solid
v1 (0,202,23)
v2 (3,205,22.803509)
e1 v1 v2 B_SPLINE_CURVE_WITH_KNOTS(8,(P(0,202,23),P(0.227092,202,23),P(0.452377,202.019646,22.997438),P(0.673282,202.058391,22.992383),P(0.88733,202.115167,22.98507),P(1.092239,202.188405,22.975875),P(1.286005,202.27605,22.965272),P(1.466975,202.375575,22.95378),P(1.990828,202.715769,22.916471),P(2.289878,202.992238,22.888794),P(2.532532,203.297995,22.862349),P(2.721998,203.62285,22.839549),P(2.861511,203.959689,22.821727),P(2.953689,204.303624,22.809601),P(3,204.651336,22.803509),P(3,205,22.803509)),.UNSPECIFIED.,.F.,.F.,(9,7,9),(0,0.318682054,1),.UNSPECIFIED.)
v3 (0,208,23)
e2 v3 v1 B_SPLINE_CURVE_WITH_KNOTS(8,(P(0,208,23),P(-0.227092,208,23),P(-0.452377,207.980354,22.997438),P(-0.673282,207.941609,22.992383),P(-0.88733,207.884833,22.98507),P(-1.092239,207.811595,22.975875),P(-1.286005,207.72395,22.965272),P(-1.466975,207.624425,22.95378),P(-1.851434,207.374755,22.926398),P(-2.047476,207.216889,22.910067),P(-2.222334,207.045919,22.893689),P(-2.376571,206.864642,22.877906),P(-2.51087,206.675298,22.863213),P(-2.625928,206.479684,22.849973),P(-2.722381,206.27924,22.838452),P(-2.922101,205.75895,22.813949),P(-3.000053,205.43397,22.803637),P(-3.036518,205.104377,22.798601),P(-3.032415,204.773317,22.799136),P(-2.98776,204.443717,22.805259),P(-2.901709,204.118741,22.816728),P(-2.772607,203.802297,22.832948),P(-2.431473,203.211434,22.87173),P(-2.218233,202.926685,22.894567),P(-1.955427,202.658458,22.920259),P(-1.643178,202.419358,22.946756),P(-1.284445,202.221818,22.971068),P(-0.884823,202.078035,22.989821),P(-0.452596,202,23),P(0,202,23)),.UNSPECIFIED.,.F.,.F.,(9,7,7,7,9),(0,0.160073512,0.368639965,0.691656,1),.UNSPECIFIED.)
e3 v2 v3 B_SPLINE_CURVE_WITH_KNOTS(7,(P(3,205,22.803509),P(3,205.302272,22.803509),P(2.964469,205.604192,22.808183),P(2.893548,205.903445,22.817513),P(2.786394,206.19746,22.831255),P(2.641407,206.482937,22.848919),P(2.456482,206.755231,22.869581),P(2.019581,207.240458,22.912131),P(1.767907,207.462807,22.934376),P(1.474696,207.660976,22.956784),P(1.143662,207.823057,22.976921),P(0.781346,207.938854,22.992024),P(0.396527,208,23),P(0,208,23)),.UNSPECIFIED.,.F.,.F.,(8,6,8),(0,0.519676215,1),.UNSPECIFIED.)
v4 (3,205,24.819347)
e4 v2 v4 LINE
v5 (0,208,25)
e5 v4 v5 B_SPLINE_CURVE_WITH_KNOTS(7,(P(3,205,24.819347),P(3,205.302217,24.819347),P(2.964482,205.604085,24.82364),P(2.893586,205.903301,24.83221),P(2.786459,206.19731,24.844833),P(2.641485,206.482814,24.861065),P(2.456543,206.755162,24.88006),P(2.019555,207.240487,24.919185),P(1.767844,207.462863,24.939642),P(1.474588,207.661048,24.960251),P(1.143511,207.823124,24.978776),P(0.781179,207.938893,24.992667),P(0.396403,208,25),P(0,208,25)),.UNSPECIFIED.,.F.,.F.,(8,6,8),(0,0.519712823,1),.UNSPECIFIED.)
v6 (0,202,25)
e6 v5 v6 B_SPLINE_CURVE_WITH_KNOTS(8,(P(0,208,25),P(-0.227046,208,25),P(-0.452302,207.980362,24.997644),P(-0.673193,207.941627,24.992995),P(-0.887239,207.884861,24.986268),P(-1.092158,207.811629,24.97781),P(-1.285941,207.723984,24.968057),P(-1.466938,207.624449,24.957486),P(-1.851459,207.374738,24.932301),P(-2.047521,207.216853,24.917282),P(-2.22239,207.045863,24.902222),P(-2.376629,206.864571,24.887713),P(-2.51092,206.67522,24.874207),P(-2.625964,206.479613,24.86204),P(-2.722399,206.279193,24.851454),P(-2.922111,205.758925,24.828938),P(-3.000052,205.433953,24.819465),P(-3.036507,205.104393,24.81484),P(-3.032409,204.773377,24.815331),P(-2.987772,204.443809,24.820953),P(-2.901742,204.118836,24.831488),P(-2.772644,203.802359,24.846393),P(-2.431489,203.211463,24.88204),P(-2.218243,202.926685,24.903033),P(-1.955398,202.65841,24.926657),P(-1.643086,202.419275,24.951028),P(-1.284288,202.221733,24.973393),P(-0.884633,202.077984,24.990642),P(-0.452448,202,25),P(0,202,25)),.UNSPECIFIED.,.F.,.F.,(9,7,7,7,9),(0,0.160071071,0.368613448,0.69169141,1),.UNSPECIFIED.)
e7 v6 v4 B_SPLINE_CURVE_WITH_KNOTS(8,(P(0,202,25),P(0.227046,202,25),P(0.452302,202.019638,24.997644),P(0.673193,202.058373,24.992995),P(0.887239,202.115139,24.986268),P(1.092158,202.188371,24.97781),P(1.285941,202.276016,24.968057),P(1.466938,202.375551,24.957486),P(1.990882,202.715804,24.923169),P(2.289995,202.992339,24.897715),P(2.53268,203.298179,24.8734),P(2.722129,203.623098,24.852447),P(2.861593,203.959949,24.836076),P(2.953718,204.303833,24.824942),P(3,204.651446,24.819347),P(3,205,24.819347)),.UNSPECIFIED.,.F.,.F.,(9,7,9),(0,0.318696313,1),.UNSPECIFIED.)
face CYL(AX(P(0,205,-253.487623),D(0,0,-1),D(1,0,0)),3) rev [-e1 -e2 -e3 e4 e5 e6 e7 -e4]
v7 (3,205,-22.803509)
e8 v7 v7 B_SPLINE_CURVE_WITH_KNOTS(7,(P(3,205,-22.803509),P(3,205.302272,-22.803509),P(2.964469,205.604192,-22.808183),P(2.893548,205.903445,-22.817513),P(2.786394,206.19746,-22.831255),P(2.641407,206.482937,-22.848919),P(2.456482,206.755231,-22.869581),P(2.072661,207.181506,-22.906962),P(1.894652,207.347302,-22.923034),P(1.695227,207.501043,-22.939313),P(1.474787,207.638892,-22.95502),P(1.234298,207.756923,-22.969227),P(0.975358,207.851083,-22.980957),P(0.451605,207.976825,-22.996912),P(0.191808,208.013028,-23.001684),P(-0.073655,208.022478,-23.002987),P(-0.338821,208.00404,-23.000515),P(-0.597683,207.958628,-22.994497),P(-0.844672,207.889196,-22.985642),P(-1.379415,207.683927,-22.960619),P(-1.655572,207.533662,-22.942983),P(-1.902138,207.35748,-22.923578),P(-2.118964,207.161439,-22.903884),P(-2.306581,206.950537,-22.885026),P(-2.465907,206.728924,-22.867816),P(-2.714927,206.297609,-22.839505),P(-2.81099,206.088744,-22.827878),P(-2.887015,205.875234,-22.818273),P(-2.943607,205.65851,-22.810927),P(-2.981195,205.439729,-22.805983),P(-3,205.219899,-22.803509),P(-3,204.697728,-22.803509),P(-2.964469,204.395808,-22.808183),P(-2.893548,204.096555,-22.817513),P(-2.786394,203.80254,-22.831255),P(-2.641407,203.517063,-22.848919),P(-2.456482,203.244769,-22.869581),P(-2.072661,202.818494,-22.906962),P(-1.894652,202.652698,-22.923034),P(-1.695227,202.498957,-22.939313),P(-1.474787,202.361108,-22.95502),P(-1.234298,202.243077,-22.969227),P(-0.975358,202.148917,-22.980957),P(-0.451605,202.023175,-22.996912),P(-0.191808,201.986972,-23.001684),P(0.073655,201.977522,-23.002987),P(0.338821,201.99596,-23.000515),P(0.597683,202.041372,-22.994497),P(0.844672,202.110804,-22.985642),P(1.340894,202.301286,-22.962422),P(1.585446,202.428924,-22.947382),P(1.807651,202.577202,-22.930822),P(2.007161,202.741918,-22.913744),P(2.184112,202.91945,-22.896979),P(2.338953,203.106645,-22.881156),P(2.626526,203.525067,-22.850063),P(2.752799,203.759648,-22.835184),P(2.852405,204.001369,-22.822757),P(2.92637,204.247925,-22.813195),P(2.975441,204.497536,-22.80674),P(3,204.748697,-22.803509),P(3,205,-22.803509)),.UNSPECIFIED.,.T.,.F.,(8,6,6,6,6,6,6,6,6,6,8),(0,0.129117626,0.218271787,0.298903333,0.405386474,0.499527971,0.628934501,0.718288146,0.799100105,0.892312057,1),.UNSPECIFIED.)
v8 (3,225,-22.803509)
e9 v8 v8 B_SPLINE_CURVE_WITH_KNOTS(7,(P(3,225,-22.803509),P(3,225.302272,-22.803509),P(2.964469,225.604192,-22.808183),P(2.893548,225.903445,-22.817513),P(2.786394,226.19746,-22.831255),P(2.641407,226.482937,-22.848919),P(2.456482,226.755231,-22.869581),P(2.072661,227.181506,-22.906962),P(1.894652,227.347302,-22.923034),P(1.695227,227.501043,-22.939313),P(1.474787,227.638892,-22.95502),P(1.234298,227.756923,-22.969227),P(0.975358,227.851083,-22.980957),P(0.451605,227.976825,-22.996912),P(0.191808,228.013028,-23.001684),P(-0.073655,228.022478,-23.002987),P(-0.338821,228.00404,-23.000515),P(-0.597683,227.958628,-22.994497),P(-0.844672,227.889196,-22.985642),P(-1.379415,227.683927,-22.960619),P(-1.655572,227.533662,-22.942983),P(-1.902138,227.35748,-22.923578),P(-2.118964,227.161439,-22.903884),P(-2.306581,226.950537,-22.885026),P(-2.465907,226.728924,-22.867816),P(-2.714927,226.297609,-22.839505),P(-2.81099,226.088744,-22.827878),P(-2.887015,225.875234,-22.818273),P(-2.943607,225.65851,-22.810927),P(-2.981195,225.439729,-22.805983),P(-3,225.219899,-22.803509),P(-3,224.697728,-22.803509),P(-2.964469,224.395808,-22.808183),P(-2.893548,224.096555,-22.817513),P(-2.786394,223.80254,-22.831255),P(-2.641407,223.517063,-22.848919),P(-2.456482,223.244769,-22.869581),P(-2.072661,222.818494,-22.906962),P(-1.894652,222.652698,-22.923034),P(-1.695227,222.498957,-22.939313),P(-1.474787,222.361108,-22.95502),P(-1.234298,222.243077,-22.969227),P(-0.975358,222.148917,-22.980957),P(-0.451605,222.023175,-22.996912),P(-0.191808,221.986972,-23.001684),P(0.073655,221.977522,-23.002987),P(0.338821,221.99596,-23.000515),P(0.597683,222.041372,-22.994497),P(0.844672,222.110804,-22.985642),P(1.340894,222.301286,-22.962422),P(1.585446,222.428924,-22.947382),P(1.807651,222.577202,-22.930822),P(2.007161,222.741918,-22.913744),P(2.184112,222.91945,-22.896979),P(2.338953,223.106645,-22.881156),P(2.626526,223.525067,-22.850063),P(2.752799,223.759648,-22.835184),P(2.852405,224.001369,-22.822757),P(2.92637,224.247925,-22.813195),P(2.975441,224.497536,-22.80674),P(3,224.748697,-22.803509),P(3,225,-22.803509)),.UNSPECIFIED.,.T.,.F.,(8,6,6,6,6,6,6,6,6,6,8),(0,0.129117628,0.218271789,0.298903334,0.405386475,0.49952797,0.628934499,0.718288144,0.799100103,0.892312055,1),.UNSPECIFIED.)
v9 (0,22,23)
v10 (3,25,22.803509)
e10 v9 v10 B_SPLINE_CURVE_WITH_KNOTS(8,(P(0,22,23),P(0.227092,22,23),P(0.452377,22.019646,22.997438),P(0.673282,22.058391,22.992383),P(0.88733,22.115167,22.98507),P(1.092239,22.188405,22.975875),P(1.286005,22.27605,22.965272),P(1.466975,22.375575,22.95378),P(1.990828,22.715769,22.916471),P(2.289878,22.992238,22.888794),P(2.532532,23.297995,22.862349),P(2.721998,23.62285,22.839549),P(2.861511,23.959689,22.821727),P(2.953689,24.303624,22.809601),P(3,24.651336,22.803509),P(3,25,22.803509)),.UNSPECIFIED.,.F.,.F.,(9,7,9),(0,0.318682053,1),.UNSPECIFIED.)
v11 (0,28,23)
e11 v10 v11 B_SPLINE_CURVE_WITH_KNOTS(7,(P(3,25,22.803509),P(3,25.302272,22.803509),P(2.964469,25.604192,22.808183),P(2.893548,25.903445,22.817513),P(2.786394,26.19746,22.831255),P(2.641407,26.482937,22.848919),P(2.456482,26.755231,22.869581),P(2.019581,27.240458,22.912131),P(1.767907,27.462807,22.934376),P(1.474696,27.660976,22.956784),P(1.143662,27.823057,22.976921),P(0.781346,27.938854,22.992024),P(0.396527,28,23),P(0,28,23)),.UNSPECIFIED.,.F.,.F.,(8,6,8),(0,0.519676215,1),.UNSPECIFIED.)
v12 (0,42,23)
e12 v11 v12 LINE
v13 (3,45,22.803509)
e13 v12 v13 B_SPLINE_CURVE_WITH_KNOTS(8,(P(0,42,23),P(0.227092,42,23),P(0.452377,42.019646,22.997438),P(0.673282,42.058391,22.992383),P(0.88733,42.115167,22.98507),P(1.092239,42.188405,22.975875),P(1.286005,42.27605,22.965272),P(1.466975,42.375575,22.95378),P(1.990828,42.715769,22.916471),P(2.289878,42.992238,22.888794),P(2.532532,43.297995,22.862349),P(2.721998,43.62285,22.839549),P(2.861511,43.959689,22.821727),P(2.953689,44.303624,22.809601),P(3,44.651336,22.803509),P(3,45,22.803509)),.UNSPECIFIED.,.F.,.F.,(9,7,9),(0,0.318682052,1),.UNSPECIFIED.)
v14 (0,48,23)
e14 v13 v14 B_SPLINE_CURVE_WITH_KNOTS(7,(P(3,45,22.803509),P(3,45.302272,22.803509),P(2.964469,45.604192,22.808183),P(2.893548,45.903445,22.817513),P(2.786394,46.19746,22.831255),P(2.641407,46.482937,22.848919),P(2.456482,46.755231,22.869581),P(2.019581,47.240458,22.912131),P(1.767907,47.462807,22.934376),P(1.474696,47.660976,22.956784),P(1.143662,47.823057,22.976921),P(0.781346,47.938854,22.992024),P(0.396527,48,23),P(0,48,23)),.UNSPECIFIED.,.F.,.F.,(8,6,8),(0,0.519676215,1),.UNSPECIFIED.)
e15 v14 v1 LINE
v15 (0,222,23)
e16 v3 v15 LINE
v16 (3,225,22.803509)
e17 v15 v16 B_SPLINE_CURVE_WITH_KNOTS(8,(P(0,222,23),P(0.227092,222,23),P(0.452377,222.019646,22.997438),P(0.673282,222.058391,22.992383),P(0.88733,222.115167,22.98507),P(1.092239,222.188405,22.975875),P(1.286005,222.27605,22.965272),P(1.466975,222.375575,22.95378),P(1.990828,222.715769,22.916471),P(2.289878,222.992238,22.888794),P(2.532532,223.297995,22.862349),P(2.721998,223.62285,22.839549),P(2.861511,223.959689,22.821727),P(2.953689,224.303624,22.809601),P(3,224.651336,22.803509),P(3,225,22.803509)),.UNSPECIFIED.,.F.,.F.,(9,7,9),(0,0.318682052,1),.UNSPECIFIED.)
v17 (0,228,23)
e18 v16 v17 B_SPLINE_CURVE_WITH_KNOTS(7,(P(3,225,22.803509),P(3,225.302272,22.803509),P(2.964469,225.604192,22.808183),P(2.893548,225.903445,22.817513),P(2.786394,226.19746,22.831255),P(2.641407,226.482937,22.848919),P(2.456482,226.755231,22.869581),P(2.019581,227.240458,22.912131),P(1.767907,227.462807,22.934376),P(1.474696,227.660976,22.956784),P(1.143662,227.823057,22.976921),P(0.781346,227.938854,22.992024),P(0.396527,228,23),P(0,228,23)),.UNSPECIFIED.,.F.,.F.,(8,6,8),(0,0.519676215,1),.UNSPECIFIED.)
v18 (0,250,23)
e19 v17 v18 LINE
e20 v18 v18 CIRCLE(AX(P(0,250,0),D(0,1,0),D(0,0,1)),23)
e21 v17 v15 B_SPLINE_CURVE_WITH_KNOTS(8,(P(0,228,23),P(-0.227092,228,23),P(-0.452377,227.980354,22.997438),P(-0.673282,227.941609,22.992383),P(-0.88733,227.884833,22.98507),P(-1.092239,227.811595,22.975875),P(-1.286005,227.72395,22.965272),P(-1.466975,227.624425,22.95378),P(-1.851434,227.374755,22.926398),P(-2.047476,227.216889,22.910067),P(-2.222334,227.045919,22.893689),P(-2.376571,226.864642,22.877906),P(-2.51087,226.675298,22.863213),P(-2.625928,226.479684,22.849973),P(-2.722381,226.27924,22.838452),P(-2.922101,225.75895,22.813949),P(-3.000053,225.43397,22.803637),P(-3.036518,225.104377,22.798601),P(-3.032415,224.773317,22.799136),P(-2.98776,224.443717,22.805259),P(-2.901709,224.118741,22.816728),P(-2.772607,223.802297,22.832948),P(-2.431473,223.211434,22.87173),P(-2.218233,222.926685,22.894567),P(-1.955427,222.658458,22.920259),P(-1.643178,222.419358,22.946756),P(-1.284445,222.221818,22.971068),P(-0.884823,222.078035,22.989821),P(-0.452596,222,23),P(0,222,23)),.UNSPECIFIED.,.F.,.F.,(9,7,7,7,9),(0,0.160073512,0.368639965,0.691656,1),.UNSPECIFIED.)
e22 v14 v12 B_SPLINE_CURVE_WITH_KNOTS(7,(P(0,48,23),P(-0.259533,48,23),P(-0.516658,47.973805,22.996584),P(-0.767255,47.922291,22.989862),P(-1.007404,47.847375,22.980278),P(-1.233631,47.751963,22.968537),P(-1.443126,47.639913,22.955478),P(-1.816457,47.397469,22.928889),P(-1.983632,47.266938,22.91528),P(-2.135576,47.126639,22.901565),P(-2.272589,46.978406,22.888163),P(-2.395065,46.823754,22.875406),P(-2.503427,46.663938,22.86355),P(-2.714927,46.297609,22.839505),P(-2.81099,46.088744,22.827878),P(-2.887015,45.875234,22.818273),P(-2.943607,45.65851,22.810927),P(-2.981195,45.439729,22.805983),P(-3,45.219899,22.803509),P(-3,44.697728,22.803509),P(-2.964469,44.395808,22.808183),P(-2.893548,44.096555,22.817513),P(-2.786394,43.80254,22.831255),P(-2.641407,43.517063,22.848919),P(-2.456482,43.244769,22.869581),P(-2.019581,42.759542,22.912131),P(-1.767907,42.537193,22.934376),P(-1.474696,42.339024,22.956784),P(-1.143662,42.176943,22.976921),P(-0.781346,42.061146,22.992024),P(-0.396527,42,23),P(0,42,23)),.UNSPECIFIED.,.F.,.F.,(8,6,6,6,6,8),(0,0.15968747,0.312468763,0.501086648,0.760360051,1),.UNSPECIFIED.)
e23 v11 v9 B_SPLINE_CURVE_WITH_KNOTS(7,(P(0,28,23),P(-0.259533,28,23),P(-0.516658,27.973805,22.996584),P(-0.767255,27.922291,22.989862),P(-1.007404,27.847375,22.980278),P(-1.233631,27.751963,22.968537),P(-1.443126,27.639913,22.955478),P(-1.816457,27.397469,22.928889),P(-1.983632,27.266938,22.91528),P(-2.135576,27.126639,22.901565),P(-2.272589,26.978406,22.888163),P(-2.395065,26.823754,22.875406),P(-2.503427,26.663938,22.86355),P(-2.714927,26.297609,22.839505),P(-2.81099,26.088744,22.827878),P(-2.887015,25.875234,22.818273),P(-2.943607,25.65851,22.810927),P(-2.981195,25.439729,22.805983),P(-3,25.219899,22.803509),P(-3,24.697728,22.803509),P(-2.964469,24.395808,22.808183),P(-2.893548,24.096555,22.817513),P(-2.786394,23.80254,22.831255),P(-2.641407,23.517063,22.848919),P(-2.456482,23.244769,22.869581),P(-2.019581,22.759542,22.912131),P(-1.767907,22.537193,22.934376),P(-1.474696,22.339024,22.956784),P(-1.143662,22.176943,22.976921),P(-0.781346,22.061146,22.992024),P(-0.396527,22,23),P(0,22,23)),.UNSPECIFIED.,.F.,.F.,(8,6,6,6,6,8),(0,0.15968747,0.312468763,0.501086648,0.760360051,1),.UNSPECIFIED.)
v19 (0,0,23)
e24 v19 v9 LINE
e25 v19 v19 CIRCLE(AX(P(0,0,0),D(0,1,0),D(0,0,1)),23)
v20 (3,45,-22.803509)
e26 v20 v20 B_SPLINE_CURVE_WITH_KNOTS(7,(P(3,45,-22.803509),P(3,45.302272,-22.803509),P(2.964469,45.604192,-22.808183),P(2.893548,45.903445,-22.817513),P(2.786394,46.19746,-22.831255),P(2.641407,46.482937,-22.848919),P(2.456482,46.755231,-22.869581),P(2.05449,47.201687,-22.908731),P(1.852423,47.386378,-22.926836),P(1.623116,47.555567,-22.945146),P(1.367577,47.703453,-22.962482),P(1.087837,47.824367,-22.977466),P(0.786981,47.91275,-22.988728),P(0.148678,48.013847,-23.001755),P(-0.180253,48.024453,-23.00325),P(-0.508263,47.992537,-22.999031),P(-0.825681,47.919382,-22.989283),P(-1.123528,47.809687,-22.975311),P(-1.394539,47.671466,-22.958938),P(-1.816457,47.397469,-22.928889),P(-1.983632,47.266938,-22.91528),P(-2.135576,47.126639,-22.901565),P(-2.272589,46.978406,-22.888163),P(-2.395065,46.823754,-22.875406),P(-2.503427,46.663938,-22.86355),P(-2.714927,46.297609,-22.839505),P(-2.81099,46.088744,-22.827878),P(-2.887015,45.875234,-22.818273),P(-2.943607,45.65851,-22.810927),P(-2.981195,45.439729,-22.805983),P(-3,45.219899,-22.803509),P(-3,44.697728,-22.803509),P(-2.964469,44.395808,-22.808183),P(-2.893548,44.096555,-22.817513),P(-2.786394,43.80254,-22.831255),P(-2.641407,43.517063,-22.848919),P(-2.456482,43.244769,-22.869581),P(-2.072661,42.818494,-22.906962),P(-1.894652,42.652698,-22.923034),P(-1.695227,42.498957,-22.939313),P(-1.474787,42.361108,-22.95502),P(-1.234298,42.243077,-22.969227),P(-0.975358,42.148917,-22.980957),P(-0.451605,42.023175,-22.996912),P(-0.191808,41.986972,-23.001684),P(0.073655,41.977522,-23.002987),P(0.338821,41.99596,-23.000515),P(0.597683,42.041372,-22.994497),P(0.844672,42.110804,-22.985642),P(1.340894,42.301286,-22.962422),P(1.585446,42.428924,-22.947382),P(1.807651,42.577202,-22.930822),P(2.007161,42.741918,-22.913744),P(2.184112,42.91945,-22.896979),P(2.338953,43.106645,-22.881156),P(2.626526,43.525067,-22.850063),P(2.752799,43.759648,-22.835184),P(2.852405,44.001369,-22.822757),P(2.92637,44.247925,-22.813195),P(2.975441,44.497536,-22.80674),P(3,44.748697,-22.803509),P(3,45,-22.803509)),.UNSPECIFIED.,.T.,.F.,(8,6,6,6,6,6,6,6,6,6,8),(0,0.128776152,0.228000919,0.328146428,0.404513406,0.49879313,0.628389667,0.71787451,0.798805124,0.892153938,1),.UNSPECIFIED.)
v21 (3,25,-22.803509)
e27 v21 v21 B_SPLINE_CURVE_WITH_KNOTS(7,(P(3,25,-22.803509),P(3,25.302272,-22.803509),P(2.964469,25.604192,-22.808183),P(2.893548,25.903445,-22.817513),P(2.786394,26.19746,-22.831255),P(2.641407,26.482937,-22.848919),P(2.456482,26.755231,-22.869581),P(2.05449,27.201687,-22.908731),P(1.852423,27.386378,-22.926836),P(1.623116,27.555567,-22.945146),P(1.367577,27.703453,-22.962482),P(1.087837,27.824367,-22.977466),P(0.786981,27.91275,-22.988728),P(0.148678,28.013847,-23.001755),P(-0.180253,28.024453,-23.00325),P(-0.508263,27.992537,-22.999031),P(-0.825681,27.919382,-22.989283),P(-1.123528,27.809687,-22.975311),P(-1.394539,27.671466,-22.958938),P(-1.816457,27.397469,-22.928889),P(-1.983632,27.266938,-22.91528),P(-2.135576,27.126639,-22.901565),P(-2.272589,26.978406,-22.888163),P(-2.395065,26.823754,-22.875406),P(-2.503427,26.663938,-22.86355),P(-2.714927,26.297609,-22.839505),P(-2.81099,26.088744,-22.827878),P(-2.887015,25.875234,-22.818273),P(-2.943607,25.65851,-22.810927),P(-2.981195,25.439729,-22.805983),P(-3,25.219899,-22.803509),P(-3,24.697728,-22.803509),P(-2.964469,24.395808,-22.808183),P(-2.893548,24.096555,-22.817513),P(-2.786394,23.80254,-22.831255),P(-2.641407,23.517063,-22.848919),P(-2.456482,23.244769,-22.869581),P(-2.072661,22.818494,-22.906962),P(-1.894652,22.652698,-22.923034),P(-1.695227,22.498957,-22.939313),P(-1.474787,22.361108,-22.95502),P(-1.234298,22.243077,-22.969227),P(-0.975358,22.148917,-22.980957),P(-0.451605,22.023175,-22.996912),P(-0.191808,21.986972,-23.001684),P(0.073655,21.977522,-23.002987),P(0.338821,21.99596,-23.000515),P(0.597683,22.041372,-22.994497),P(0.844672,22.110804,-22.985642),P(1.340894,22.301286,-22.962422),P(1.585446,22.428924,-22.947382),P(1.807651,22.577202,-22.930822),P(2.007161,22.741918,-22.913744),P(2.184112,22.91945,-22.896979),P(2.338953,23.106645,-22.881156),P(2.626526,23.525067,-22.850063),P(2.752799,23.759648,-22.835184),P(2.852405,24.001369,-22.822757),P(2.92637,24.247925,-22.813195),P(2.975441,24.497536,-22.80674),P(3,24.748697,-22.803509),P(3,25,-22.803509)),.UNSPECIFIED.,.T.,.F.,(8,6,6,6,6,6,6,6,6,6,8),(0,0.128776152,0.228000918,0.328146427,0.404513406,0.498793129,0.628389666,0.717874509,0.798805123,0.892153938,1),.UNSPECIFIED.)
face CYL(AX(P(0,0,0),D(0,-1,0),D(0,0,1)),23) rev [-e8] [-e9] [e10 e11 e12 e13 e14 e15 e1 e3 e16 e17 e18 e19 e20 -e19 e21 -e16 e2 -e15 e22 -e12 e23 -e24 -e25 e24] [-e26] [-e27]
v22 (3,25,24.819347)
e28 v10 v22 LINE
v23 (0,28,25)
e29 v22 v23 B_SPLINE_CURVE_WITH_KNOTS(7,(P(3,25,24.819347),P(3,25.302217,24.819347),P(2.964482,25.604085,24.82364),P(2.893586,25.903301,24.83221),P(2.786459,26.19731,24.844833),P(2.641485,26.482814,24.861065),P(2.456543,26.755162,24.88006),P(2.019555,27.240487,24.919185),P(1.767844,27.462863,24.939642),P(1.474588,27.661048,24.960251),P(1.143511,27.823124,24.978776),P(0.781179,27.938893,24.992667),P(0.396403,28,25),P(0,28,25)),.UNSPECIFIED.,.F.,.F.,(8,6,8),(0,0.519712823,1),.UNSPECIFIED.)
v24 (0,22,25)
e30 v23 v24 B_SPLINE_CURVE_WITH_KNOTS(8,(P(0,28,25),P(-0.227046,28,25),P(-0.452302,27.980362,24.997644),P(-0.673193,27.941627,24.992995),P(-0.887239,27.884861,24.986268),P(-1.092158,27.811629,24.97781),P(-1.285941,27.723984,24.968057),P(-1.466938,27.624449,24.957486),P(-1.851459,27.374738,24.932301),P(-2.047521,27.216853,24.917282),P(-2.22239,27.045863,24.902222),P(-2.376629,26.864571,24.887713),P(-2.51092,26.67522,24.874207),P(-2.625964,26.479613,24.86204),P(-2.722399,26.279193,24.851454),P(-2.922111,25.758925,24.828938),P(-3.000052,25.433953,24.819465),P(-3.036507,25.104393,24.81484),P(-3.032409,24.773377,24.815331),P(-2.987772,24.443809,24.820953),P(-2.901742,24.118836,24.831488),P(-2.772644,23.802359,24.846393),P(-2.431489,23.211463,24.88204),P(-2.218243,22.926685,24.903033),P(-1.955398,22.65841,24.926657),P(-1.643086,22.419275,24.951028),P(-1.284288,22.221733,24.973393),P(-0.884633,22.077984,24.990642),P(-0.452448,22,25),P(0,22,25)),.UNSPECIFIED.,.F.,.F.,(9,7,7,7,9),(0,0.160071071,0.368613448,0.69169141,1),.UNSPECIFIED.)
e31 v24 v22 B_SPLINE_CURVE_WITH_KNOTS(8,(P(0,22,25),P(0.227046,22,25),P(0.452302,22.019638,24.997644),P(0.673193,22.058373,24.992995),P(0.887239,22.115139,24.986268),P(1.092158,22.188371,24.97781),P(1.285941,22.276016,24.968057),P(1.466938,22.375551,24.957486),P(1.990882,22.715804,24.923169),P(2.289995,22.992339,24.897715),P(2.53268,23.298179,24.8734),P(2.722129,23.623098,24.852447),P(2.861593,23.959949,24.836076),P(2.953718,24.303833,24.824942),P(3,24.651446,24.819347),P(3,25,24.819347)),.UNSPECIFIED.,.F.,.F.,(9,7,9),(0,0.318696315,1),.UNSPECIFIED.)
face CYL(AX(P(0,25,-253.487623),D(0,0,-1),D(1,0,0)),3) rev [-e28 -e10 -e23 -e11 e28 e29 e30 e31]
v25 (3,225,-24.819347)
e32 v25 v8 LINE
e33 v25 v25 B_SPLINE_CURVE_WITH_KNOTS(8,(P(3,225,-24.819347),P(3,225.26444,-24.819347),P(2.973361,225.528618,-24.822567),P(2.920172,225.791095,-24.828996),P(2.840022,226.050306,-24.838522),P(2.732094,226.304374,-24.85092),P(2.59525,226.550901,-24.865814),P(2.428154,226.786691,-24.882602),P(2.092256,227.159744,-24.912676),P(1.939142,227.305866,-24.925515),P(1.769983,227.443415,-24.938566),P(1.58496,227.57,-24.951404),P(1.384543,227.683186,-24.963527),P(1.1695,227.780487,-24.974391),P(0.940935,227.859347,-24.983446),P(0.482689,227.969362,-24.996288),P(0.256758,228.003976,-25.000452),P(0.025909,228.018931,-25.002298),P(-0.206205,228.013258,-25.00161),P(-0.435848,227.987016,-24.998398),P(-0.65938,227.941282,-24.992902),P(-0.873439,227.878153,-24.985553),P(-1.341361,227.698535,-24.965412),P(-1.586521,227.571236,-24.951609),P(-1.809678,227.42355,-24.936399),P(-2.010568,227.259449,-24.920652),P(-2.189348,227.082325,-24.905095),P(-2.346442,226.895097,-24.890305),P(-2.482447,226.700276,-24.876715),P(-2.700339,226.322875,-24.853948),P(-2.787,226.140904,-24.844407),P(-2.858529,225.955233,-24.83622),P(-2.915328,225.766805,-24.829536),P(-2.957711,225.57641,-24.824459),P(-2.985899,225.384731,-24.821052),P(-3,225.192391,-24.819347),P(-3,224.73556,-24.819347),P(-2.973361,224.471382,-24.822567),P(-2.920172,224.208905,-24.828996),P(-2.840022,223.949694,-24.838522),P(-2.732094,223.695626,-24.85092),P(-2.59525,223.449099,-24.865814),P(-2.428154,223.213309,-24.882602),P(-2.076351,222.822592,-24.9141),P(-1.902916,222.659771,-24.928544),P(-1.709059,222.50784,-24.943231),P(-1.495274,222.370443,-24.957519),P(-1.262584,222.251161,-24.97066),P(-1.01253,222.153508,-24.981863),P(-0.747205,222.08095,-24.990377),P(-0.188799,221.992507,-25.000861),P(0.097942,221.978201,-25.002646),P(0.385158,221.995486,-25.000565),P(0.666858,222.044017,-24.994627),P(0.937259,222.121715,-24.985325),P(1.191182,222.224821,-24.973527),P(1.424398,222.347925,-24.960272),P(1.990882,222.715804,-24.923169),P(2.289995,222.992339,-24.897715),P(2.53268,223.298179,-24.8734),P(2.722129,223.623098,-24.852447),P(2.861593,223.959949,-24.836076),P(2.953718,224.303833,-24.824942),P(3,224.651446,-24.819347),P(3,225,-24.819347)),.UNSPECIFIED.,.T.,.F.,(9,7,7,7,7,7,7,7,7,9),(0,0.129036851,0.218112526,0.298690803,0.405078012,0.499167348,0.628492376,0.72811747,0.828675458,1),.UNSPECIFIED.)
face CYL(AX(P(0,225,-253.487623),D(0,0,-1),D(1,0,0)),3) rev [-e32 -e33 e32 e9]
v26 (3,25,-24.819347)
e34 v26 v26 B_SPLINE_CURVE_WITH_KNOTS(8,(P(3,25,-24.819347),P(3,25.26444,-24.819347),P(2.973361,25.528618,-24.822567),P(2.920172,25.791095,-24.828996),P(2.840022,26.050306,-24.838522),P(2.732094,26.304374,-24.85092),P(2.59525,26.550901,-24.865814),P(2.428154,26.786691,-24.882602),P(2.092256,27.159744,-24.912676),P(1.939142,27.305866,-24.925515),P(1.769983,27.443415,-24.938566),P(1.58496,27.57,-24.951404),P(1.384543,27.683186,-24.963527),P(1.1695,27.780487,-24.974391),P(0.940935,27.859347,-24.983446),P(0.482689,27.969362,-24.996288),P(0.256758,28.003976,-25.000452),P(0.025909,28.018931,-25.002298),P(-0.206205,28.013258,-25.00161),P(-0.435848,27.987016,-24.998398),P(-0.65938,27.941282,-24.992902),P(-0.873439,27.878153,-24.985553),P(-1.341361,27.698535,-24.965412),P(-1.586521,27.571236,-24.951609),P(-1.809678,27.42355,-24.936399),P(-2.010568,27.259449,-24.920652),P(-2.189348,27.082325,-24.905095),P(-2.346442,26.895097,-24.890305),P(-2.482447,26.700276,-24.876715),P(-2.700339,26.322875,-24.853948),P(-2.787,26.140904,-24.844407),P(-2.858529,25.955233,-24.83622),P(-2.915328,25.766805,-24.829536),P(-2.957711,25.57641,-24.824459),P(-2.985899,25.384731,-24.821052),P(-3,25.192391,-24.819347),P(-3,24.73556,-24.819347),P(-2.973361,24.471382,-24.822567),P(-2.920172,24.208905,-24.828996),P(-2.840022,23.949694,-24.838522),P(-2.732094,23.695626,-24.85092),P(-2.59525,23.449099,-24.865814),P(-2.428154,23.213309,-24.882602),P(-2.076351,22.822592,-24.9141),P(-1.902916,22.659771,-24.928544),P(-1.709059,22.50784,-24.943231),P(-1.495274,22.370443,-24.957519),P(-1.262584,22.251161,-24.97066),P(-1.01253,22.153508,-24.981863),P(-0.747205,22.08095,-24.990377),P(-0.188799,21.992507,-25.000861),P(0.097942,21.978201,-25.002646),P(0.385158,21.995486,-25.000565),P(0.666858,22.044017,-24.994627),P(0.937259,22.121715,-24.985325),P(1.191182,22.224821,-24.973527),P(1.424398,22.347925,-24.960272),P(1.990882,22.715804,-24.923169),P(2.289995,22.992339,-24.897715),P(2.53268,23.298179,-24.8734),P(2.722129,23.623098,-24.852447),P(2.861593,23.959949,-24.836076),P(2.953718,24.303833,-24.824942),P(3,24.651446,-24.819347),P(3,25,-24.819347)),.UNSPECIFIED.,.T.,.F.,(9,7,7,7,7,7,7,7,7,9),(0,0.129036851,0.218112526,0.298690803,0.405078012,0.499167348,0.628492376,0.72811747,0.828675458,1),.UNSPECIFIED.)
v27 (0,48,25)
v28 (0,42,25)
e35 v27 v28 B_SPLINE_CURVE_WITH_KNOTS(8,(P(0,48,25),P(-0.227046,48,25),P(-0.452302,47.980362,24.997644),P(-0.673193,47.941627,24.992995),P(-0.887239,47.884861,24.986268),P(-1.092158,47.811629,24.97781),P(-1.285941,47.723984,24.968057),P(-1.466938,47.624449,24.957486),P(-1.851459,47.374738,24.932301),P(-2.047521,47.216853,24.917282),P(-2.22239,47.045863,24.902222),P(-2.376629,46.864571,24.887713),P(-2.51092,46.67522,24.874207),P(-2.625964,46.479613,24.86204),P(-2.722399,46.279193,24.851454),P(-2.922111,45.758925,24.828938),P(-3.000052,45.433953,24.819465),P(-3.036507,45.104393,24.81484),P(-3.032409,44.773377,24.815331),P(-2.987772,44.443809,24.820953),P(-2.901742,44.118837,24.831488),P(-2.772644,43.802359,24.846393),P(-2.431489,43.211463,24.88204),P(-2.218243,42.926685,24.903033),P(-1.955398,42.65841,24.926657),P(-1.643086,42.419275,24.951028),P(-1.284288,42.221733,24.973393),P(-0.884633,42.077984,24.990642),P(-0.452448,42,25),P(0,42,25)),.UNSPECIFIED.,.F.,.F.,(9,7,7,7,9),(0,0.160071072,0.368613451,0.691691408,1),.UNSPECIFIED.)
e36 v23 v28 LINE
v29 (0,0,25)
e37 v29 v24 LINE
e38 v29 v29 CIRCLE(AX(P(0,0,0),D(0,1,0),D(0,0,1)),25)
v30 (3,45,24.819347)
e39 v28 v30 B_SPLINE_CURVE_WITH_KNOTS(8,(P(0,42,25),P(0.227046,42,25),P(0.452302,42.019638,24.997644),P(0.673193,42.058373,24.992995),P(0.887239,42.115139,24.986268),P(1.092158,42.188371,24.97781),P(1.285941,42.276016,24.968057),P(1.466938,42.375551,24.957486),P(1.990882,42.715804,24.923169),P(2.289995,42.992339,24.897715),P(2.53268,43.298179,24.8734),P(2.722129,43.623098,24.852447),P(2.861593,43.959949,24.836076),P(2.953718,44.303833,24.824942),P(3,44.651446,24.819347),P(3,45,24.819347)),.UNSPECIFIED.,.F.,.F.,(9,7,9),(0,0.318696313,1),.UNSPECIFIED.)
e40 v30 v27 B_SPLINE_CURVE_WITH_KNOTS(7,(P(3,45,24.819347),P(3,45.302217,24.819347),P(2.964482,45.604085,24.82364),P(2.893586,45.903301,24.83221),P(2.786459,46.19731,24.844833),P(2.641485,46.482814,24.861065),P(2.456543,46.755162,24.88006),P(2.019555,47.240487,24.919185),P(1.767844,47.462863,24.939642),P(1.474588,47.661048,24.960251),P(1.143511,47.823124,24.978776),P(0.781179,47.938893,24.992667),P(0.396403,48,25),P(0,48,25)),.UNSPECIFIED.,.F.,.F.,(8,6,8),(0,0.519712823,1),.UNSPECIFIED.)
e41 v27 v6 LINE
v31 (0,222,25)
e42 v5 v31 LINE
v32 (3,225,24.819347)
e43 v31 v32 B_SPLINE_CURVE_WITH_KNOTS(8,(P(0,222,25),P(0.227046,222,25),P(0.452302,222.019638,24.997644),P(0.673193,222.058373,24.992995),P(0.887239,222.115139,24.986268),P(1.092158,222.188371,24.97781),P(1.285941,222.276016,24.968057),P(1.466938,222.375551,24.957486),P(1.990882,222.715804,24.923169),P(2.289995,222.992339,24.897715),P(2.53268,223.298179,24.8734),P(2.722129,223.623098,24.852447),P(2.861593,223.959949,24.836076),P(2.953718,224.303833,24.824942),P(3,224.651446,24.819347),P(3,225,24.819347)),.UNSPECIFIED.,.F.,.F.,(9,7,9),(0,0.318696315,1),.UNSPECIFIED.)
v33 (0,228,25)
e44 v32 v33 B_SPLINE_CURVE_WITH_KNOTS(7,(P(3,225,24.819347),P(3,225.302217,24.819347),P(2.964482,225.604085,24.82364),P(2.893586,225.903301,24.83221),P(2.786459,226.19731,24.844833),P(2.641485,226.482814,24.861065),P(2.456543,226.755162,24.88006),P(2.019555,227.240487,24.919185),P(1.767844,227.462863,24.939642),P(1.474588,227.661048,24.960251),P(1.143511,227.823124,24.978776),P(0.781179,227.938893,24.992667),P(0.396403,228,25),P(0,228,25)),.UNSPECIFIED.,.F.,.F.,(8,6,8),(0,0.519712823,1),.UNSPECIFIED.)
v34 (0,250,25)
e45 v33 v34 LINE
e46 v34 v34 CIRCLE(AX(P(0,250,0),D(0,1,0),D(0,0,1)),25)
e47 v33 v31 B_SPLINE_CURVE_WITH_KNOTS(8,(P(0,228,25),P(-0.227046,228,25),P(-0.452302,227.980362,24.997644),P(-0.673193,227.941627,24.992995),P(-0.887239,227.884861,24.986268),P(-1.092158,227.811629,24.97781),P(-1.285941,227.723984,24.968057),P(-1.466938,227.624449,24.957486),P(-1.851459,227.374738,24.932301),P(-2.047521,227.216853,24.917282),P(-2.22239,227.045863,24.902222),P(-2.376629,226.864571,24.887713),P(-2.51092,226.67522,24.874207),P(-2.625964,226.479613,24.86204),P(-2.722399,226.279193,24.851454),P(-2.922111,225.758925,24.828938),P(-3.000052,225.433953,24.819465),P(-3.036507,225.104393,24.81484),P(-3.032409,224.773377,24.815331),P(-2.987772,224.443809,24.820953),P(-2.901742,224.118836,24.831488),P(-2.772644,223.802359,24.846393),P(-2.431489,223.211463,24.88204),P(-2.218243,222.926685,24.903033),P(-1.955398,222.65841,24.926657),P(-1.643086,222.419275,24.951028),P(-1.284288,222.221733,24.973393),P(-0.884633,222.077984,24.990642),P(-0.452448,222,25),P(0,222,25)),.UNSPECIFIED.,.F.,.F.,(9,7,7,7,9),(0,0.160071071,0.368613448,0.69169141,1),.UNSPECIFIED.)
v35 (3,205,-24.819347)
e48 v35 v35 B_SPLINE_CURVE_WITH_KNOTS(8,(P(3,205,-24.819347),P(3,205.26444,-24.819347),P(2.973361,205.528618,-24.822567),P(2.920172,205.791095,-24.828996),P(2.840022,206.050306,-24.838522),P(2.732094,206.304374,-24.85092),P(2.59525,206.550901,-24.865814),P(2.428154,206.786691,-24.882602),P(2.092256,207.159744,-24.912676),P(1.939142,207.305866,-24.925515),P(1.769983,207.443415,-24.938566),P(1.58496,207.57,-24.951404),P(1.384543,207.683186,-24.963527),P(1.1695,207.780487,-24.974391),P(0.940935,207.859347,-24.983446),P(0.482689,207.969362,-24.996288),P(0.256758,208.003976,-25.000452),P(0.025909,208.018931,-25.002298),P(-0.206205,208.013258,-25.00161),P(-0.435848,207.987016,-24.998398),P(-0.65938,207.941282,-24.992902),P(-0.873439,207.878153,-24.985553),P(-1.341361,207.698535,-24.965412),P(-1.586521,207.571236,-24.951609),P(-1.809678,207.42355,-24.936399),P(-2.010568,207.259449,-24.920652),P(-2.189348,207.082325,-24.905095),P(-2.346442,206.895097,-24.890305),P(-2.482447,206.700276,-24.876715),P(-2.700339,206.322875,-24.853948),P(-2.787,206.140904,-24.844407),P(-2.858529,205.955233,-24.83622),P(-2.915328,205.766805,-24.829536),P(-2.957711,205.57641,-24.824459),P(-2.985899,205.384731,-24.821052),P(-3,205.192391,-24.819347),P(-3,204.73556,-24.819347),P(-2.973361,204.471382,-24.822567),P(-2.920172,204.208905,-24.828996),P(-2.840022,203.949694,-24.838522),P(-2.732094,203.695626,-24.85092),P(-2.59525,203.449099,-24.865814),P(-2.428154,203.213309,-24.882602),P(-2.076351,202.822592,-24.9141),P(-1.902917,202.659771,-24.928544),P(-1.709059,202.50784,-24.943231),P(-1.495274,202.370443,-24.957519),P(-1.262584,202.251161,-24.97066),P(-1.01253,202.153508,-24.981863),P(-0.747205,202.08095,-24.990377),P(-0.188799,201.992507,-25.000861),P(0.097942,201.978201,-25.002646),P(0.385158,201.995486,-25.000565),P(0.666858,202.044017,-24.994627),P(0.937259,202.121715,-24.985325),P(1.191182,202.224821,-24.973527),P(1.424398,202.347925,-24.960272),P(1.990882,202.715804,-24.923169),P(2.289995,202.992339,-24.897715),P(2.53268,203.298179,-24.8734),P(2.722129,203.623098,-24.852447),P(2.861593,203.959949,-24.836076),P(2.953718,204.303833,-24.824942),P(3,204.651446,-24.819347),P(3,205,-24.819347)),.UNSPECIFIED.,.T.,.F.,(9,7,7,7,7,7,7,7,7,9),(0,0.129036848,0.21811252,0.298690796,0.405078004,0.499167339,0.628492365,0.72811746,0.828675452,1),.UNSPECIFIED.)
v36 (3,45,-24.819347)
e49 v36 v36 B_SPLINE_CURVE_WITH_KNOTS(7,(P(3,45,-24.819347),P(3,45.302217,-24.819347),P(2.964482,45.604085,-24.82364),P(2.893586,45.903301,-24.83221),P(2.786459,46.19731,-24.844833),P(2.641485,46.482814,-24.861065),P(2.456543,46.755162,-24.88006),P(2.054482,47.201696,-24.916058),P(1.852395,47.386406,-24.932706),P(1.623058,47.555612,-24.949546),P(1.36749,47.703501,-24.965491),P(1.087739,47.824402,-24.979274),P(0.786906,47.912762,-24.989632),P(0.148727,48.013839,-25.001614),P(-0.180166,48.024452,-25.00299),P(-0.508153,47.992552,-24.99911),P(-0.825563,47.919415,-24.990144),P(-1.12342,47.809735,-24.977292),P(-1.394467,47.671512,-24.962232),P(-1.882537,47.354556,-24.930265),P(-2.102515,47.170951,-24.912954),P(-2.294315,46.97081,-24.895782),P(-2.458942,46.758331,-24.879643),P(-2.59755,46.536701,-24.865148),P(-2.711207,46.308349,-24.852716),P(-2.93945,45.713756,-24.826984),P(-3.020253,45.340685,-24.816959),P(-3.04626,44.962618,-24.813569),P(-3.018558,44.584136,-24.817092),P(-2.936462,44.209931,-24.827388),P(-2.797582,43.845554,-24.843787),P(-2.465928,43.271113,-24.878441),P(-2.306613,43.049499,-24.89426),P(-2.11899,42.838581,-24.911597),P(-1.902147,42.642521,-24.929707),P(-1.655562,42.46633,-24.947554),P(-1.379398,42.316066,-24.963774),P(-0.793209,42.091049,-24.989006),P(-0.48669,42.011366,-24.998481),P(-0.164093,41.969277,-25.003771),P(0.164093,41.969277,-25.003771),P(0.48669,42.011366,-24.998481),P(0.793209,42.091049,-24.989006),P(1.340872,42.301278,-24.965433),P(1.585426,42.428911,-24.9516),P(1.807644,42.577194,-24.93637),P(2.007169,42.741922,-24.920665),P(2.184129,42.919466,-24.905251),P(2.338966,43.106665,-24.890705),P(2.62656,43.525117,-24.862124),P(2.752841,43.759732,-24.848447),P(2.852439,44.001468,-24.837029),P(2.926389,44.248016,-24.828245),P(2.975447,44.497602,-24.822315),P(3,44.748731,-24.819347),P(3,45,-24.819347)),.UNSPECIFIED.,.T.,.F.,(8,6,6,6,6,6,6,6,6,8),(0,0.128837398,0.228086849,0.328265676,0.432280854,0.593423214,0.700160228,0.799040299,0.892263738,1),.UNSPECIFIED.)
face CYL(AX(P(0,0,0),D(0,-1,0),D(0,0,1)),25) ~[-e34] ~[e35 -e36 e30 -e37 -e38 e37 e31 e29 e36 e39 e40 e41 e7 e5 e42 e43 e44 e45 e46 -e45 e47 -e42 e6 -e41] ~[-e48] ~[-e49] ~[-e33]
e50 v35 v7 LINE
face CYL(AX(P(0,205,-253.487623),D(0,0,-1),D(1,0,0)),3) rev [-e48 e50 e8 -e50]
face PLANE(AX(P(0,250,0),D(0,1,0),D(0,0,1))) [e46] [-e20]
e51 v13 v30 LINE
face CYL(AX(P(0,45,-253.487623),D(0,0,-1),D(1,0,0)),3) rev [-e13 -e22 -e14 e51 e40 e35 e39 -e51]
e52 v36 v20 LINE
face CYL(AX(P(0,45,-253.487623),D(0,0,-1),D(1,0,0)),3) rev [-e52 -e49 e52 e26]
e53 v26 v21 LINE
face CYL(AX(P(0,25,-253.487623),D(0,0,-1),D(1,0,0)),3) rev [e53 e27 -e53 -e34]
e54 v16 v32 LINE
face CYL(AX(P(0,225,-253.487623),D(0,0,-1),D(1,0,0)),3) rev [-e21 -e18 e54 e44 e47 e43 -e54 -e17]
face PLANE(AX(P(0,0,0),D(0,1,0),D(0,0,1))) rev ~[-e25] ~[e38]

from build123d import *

# Parameters (mm, degrees)
SKETCH_1_R               = 25
SKETCH_1_R_2             = 23
EXTRUDE_1_DEPTH          = 250
CUT_EXTRUDE_1_DEPTH      = 253.487623459
CUT_EXTRUDE_1_DEPTH_BACK = 253.487623459
SKETCH_2_R               = 3


with BuildPart() as part:
    # 草图1 → 凸台-拉伸1 (new body)
    with BuildSketch(Plane(origin=(0, 0, 0), x_dir=(1, 0, 0), z_dir=(0, 1, 0))):
        with Locations(Location((0, 0, 0), (0, 0, 270))):
            Circle(SKETCH_1_R)
        with Locations(Location((0, 0, 0), (0, 0, 270))):
            Circle(SKETCH_1_R_2, mode=Mode.SUBTRACT)
    extrude(amount=EXTRUDE_1_DEPTH)

    # 草图2 → 切除-拉伸1 (cut, two sides: drawn at the far end of the back side and taken through both)
    with BuildSketch(Plane.XY.offset(-CUT_EXTRUDE_1_DEPTH_BACK)):
        with Locations((0, 45)):
            Circle(SKETCH_2_R)
        with Locations((0, 25)):
            Circle(SKETCH_2_R)
        with Locations((0, 225)):
            Circle(SKETCH_2_R)
        with Locations((0, 205)):
            Circle(SKETCH_2_R)
    extrude(amount=CUT_EXTRUDE_1_DEPTH + CUT_EXTRUDE_1_DEPTH_BACK, mode=Mode.SUBTRACT)


solid = part.part
